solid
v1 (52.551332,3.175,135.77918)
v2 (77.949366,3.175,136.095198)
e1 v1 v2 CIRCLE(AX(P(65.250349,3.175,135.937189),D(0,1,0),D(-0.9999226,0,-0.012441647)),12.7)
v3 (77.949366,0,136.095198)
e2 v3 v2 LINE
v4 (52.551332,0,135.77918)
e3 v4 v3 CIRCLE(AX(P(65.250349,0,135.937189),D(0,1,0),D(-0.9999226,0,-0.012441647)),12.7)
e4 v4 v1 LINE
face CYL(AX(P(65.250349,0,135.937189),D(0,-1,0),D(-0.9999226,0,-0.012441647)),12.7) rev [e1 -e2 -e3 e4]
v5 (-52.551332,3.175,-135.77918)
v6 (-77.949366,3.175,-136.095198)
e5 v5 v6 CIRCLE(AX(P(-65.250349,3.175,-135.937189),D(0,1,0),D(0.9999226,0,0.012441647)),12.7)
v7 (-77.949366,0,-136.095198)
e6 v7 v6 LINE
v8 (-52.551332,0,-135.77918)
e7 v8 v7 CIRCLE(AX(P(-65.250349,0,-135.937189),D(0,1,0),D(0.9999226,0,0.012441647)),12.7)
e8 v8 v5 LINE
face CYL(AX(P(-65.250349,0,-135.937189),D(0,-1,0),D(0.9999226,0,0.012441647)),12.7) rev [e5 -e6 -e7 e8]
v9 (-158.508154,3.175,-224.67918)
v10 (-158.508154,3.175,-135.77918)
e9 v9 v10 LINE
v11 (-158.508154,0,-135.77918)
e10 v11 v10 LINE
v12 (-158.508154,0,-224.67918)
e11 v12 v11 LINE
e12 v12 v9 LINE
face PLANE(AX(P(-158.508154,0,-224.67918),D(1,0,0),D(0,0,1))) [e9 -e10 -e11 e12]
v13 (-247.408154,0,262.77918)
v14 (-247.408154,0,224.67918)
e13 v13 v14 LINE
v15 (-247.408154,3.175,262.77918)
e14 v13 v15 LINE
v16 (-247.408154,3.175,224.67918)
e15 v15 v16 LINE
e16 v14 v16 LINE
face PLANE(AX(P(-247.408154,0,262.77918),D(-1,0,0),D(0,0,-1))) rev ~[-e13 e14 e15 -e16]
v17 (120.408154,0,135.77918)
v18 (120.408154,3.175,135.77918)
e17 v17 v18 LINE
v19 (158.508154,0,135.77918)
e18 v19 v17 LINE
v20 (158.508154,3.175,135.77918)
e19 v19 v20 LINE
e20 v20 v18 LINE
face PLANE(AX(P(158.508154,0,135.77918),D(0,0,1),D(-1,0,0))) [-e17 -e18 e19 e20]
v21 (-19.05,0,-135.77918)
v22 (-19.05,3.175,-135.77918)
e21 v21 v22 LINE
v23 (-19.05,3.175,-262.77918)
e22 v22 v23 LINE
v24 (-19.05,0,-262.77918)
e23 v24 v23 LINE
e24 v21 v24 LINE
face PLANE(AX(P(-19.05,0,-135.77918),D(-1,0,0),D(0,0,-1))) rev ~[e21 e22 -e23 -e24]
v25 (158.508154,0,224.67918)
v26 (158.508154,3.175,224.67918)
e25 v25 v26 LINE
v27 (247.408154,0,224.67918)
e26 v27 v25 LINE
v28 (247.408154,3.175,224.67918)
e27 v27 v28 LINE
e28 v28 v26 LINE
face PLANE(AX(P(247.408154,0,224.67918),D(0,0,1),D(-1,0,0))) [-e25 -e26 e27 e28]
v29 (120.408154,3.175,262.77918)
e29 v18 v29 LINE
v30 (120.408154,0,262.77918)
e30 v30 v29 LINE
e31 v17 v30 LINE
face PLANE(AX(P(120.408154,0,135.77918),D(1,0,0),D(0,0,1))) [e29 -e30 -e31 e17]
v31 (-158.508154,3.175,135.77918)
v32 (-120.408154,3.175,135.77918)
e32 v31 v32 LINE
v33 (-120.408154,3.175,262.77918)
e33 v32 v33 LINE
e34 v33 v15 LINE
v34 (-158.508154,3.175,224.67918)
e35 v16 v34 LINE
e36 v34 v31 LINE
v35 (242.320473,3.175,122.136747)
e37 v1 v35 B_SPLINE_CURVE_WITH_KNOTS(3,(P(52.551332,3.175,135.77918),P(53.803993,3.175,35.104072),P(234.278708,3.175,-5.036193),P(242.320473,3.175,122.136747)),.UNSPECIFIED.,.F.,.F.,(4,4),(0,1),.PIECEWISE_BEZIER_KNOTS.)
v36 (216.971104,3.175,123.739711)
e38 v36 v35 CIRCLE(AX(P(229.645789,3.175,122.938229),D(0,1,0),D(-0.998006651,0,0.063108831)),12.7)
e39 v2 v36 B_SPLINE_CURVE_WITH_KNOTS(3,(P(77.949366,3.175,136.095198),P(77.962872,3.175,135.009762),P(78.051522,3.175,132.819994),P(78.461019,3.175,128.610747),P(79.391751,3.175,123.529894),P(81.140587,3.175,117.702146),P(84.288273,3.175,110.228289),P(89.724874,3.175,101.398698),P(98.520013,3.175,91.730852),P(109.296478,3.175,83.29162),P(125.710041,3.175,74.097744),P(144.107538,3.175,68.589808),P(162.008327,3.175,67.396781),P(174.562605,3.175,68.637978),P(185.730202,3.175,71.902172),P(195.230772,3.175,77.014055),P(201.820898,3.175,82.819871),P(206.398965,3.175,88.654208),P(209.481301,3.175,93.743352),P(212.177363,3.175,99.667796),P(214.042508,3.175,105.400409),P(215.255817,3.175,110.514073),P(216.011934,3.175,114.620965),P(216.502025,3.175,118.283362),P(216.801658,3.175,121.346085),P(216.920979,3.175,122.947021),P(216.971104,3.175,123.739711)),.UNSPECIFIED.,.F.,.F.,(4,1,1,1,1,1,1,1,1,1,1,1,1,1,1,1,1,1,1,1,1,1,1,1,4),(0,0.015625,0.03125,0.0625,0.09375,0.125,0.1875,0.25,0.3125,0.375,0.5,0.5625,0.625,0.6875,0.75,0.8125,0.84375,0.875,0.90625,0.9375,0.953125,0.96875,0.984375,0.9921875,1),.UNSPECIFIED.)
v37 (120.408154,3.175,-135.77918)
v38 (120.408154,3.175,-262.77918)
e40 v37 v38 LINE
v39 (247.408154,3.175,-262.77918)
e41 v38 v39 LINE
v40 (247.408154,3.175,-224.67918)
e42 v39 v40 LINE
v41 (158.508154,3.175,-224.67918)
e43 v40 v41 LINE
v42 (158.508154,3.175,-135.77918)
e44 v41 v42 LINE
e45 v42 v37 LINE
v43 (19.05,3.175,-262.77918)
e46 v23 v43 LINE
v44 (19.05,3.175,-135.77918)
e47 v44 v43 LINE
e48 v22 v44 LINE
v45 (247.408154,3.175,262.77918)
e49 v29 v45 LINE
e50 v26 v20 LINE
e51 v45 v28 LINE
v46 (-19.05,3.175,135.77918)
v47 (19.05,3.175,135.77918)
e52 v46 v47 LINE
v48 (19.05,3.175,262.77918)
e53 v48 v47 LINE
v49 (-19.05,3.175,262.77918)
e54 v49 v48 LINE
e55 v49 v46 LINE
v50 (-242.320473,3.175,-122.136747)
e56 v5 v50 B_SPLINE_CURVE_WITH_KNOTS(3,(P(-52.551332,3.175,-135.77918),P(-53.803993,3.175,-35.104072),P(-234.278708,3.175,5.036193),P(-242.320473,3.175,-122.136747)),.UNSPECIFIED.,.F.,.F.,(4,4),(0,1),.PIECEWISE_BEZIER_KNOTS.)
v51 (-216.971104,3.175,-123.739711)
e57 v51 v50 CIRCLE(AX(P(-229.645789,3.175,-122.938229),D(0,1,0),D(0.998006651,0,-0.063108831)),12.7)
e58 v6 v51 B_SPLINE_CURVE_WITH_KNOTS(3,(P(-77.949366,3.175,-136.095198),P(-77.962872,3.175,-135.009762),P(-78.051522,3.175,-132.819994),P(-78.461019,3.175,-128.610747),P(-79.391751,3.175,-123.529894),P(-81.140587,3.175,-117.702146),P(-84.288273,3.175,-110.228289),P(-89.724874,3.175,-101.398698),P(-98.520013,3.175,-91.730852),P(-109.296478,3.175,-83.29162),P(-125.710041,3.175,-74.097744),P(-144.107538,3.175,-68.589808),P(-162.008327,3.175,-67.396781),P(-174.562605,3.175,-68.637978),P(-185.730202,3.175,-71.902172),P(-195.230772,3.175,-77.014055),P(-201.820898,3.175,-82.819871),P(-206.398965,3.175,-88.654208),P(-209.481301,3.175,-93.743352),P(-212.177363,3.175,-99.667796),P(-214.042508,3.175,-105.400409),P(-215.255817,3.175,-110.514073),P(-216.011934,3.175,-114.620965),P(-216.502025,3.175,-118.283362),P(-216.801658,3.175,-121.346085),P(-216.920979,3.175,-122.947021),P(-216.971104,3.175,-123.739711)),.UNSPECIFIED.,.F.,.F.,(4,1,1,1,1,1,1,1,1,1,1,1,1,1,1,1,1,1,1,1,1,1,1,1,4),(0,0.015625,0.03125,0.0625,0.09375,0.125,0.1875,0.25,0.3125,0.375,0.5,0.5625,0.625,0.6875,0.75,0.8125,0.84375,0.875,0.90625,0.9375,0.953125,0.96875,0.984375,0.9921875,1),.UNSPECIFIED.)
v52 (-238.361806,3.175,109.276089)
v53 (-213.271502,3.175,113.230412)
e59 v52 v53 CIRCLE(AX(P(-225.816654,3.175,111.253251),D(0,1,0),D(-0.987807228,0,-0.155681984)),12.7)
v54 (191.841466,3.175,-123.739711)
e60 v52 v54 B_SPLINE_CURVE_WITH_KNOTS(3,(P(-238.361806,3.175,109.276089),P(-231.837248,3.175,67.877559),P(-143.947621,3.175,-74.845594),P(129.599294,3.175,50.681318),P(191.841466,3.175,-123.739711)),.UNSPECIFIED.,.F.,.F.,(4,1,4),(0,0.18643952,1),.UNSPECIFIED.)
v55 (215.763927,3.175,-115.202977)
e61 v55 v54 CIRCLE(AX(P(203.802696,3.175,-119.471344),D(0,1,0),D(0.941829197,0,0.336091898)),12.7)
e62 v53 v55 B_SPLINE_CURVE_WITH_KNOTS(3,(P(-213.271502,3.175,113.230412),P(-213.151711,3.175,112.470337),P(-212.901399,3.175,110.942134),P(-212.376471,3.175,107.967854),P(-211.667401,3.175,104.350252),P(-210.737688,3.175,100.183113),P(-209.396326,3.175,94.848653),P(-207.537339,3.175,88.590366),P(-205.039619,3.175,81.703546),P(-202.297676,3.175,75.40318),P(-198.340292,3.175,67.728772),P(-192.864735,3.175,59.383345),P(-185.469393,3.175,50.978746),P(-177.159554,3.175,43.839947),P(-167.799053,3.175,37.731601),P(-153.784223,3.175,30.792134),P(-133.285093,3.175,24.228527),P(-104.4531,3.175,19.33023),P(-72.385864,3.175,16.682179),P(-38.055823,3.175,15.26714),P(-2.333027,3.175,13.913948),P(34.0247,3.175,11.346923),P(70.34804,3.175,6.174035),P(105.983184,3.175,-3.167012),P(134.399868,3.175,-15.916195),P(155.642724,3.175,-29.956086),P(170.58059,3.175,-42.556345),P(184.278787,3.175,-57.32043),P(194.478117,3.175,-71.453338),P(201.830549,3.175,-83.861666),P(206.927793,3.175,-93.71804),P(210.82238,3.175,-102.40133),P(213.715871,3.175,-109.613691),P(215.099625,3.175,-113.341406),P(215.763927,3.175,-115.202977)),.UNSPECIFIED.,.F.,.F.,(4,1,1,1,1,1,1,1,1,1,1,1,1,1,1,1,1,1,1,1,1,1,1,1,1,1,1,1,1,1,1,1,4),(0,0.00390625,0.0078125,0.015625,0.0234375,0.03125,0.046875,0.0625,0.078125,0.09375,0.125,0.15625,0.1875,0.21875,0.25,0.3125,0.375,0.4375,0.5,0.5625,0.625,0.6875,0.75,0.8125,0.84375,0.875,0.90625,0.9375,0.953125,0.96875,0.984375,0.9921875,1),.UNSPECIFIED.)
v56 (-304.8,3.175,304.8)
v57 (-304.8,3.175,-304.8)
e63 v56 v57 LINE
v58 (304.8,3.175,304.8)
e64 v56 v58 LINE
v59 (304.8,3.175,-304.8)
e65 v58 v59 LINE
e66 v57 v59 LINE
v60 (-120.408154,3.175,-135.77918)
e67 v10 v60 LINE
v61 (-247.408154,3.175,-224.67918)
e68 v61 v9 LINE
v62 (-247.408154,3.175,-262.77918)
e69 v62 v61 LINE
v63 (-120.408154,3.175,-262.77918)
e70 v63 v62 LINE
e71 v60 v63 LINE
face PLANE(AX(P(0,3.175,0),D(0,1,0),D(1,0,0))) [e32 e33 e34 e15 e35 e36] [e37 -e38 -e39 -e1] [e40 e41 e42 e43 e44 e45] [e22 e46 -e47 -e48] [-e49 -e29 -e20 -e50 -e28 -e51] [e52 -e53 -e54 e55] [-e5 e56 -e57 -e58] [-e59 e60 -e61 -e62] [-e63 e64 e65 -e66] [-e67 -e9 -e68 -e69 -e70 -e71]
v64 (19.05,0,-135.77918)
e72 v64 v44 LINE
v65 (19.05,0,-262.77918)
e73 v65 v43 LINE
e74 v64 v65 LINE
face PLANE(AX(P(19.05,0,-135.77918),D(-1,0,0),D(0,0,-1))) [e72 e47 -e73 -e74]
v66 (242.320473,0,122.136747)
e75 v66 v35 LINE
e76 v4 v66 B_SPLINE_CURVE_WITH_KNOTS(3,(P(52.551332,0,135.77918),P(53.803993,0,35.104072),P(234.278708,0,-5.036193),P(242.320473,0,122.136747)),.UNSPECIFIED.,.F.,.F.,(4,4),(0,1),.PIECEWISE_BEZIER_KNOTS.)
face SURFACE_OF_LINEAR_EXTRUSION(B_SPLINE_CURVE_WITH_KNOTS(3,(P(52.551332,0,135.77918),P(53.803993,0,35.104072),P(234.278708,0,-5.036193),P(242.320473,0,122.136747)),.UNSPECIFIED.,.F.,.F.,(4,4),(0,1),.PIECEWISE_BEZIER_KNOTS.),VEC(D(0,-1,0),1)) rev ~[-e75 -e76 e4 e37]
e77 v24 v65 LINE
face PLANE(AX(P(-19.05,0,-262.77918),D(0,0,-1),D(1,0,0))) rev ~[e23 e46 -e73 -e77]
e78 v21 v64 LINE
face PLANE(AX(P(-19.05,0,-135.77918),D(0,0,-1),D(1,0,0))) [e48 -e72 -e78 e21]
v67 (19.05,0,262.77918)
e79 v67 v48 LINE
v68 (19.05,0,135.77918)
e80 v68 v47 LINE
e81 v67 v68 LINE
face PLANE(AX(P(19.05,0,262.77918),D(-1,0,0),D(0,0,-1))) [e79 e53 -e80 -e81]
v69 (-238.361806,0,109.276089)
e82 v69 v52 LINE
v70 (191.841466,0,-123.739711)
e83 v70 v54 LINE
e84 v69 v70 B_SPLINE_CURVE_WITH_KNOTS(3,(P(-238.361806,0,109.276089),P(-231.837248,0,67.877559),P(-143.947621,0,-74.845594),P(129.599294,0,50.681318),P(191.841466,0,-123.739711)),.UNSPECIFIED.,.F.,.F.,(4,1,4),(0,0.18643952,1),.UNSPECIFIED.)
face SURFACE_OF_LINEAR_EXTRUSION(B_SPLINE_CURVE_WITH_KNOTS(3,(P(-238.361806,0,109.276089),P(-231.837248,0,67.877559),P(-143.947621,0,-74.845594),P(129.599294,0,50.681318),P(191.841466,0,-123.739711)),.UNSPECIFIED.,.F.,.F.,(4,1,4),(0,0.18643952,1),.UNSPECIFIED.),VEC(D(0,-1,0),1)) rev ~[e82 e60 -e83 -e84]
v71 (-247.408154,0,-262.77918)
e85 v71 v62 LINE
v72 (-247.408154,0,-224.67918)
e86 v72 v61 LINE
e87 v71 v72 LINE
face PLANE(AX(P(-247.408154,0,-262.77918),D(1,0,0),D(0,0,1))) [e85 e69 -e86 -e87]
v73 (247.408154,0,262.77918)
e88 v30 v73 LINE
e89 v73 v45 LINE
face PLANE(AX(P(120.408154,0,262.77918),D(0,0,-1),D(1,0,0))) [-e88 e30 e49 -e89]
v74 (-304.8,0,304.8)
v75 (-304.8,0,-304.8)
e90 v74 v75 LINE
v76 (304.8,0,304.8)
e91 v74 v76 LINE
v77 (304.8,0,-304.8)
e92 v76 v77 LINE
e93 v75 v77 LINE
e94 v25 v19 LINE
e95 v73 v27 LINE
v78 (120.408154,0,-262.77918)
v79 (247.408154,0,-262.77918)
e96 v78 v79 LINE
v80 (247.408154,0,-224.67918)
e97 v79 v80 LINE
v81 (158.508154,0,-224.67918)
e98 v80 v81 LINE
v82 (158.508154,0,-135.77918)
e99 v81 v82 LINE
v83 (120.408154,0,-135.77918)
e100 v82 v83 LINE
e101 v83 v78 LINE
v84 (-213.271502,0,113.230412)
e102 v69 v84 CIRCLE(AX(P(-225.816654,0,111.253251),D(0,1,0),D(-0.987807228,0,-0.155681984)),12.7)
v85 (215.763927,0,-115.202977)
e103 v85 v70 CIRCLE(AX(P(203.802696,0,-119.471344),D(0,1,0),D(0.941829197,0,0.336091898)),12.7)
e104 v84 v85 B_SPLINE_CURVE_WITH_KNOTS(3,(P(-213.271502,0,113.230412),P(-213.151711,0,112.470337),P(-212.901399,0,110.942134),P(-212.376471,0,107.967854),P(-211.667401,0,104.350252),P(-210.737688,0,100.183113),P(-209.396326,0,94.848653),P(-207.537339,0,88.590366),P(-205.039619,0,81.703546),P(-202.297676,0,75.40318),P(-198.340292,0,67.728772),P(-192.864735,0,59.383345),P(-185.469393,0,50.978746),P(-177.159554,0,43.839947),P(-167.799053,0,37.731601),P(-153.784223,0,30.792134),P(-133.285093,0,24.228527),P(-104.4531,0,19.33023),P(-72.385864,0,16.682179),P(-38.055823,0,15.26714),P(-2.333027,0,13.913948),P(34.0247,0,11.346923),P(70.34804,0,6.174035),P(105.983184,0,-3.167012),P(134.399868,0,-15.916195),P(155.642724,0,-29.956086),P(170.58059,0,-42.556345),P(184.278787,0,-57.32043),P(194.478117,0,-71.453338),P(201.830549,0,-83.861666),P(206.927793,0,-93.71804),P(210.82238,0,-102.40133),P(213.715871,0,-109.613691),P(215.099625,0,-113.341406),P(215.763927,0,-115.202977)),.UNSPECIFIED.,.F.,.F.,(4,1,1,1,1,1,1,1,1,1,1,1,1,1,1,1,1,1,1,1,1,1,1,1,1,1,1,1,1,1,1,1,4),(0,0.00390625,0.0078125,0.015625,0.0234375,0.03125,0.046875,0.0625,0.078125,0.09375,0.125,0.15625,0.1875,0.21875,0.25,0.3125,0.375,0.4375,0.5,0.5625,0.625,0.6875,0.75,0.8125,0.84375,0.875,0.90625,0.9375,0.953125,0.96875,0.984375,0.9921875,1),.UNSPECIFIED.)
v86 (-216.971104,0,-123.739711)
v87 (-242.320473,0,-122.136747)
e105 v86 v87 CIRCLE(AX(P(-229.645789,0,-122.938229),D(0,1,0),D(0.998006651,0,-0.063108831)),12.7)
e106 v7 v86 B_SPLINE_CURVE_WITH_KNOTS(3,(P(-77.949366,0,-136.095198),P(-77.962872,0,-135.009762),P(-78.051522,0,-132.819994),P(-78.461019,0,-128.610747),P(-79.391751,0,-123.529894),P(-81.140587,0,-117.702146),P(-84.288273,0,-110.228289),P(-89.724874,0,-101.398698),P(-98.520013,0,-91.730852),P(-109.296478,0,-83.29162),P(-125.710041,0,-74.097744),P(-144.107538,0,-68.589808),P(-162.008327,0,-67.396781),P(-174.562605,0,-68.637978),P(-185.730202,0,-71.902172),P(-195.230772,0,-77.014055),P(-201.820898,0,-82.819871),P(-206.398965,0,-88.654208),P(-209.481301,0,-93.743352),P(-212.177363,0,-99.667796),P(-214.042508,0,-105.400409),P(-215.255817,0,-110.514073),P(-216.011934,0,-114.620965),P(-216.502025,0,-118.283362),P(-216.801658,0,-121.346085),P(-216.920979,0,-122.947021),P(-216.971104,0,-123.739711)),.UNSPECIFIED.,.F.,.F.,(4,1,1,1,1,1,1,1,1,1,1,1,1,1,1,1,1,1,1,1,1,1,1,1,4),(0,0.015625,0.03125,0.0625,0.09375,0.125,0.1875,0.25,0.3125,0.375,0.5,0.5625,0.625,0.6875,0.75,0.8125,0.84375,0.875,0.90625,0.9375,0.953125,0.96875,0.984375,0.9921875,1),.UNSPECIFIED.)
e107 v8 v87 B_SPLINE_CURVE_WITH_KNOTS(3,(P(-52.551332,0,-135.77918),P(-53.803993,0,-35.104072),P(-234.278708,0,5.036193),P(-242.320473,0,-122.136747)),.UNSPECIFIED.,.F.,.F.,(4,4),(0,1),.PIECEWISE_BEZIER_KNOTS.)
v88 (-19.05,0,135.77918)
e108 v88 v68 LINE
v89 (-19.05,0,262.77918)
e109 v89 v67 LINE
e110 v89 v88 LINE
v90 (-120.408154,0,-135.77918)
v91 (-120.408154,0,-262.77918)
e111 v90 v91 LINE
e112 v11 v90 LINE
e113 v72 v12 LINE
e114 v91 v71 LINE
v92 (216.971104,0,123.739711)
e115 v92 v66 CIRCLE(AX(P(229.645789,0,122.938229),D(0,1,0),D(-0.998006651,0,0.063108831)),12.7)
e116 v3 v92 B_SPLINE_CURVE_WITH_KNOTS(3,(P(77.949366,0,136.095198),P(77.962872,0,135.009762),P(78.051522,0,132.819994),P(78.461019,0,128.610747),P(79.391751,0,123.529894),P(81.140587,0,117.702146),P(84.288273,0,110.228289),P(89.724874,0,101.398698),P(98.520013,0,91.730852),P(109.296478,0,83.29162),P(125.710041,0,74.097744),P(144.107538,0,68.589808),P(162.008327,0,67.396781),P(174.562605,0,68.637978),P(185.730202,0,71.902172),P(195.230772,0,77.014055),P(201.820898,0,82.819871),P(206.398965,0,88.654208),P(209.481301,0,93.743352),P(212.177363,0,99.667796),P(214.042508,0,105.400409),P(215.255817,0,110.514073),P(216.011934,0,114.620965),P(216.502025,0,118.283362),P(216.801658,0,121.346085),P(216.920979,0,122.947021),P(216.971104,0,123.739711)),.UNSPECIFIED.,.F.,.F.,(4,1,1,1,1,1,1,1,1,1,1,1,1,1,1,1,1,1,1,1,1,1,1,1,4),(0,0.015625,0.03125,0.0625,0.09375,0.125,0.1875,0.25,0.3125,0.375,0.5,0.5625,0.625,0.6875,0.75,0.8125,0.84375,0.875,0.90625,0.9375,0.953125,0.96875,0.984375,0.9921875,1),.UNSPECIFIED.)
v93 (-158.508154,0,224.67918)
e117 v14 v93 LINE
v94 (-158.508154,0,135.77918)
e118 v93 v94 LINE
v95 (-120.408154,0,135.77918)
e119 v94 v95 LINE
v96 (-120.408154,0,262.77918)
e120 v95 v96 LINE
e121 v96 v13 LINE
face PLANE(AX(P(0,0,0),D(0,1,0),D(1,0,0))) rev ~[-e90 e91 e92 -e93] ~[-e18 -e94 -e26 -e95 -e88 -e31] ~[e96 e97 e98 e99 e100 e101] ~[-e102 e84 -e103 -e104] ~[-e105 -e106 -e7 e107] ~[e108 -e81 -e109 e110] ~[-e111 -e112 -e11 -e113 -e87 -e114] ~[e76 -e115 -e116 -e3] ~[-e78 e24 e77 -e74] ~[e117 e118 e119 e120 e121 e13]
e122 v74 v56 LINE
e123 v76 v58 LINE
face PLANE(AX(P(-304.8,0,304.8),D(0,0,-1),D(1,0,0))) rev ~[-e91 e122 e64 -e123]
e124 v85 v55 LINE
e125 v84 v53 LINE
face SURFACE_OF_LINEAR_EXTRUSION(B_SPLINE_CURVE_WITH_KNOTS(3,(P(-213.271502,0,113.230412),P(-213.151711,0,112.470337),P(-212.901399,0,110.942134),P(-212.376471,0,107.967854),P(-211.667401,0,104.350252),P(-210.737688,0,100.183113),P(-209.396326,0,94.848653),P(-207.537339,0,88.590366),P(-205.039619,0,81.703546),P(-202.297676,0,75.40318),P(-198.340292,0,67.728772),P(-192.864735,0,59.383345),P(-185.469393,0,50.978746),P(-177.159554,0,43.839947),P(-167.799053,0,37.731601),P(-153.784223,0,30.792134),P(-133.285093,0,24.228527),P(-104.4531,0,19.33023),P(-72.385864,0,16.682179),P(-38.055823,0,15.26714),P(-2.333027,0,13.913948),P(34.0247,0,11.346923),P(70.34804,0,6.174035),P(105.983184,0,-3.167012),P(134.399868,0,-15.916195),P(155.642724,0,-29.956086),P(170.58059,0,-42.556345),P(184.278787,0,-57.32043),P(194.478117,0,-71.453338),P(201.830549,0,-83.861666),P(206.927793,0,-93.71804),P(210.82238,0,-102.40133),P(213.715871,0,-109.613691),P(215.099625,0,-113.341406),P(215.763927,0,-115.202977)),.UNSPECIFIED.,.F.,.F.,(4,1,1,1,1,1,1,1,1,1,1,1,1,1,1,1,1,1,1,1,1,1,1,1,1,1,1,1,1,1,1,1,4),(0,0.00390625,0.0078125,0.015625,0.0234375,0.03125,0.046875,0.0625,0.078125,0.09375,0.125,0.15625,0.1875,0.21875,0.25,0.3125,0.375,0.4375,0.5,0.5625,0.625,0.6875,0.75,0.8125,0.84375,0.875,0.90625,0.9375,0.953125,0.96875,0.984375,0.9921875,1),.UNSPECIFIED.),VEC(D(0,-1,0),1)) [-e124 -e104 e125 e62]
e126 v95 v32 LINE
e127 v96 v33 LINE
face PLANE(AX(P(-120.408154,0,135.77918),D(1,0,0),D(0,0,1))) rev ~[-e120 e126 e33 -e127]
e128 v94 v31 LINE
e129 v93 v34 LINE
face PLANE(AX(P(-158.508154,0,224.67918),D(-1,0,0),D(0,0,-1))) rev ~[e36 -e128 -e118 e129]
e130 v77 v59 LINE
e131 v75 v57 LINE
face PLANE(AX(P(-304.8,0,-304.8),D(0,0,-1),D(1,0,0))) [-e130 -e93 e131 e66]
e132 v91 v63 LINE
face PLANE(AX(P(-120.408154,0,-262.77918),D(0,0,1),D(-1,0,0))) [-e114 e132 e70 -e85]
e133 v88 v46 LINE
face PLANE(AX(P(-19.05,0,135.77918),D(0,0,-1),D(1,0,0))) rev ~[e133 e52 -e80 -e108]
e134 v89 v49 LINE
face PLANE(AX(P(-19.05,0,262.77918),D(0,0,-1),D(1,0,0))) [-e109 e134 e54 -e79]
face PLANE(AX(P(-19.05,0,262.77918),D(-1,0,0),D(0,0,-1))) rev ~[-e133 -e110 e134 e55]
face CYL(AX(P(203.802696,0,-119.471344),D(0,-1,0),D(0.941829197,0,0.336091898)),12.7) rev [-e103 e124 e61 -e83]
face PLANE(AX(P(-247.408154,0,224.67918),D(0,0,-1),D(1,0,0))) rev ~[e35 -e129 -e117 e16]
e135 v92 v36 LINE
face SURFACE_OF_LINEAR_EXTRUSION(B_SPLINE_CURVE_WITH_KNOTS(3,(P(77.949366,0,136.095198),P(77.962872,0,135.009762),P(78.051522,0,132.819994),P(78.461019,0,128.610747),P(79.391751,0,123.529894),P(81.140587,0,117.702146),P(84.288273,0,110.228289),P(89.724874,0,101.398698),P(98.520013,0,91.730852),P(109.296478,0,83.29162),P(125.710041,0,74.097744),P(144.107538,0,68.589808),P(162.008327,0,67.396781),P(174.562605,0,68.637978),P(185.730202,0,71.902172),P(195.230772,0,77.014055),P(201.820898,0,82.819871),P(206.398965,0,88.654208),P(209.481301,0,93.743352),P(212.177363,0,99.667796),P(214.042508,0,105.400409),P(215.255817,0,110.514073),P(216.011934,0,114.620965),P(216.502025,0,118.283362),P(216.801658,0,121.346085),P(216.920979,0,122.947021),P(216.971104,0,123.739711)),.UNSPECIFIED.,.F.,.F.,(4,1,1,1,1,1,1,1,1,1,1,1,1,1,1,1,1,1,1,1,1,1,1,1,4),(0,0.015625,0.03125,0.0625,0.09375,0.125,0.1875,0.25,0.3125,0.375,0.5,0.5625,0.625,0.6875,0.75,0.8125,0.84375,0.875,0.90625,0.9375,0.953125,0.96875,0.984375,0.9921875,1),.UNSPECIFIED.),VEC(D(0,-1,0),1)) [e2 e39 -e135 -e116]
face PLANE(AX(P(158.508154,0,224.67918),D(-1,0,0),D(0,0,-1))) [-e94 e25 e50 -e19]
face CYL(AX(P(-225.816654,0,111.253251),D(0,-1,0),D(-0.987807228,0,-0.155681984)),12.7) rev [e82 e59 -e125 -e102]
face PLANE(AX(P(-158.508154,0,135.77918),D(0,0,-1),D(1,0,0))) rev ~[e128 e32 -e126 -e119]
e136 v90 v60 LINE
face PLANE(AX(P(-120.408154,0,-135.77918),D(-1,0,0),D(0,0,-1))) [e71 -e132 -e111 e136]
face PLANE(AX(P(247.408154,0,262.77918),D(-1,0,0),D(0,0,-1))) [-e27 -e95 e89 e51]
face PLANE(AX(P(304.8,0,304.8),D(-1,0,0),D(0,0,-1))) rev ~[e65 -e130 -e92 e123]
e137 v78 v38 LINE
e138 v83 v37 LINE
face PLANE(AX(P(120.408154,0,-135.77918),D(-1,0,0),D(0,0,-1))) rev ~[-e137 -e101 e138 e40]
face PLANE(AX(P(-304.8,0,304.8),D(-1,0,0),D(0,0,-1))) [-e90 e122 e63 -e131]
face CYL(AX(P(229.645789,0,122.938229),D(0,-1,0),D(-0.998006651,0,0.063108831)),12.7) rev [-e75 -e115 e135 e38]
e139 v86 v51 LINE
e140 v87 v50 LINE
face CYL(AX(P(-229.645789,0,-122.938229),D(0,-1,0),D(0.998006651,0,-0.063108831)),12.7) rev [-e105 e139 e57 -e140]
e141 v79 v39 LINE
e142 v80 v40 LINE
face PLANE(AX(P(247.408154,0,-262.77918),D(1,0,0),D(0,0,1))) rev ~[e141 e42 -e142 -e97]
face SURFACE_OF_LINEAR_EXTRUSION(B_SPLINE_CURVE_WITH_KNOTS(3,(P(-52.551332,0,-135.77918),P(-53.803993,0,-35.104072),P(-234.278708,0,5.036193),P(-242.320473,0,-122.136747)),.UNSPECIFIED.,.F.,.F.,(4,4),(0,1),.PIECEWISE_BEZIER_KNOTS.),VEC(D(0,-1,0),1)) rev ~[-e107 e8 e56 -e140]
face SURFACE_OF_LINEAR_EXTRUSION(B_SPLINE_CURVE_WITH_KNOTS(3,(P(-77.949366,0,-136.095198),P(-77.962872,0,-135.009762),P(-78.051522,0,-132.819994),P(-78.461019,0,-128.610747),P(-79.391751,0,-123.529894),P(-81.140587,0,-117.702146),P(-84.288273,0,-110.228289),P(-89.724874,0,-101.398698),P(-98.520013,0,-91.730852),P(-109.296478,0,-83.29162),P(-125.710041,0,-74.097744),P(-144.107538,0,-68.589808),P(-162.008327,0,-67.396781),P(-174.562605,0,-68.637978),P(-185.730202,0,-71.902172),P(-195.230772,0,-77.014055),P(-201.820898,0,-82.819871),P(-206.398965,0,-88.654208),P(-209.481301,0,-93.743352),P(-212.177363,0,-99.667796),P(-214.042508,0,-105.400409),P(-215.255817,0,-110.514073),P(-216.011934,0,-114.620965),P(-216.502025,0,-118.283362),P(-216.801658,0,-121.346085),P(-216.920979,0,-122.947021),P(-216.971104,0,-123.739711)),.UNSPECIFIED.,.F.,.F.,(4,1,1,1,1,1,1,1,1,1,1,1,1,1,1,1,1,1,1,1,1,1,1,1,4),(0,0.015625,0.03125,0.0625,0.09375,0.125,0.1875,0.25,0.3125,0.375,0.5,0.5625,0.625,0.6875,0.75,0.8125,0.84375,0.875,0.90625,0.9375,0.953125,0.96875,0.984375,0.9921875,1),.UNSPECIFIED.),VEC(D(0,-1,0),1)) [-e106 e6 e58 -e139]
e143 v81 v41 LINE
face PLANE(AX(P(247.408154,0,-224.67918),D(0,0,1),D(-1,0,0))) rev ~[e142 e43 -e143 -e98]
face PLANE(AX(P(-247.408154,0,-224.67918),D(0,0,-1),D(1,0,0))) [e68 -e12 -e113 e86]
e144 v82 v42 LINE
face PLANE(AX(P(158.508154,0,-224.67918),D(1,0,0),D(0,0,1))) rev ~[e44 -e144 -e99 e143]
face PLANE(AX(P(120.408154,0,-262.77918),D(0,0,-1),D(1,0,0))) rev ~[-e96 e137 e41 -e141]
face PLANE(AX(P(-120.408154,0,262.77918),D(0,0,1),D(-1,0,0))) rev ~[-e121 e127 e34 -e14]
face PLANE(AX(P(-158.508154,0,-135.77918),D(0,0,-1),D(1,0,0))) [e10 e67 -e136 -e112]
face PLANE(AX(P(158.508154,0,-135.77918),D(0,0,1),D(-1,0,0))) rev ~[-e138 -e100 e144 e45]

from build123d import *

# Parameters (mm, degrees)
SKETCH1_W           = 609.6
SKETCH1_H           = 609.6
SKETCH1_W_2         = 38.1
SKETCH1_H_2         = 127
BOSS_EXTRUDE1_DEPTH = 3.175


with BuildPart() as part:
    # Sketch1 → Boss-Extrude1 (new body)
    with BuildSketch(Plane(origin=(0, 0, 0), x_dir=(1, 0, 0), z_dir=(0, 1, 0))):
        Rectangle(SKETCH1_W, SKETCH1_H)
        Polygon((120.408154002, 135.779180095), (120.408154002, 262.779180095), (247.408154002, 262.779180095), (247.408154002, 224.679180095), (158.508154002, 224.679180095), (158.508154002, 135.779180095), align=None, mode=Mode.SUBTRACT)
        with Locations((0, 199.279180095)):
            Rectangle(SKETCH1_W_2, SKETCH1_H_2, mode=Mode.SUBTRACT)
        Polygon((-158.508154002, 224.679180095), (-158.508154002, 135.779180095), (-120.408154002, 135.779180095), (-120.408154002, 262.779180095), (-247.408154002, 262.779180095), (-247.408154002, 224.679180095), align=None, mode=Mode.SUBTRACT)
        Polygon((158.508154002, -224.679180095), (158.508154002, -135.779180095), (120.408154002, -135.779180095), (120.408154002, -262.779180095), (247.408154002, -262.779180095), (247.408154002, -224.679180095), align=None, mode=Mode.SUBTRACT)
        with Locations((0, -199.279180095)):
            Rectangle(SKETCH1_W_2, SKETCH1_H_2, mode=Mode.SUBTRACT)
        Polygon((-247.408154002, -224.679180095), (-158.508154002, -224.679180095), (-158.508154002, -135.779180095), (-120.408154002, -135.779180095), (-120.408154002, -262.779180095), (-247.408154002, -262.779180095), align=None, mode=Mode.SUBTRACT)
        with BuildLine():
            ThreePointArc((52.551332081, -135.779180095), (65.092340177, -148.636206032), (77.949366114, -136.095197937))
            add(Edge.make_bspline(
                [(77.949366114, -136.095197937), (77.962871775, -135.00976167), (78.051522279, -132.819994322), (78.461018982, -128.610747096), (79.391750695, -123.529893605), (81.140586923, -117.702146239), (84.288273438, -110.22828937), (89.724874356, -101.398698485), (98.52001314, -91.730852125), (109.296478393, -83.291620152), (125.7100411, -74.097744104), (144.107538407, -68.589807628), (162.008327299, -67.396780618), (174.562605493, -68.637977939), (185.730202076, -71.902172234), (195.230771881, -77.014054641), (201.820897642, -82.819870924), (206.398964756, -88.654208165), (209.481301131, -93.743351916), (212.177363153, -99.667795966), (214.042508359, -105.400408521), (215.255816836, -110.514072692), (216.01193439, -114.620965061), (216.502025281, -118.283361589), (216.801657973, -121.346084505), (216.920978677, -122.947020667), (216.971104363, -123.739711144)],
                knots=[0, 0, 0, 0, 0.015625, 0.03125, 0.0625, 0.09375, 0.125, 0.1875, 0.25, 0.3125, 0.375, 0.5, 0.5625, 0.625, 0.6875, 0.75, 0.8125, 0.84375, 0.875, 0.90625, 0.9375, 0.953125, 0.96875, 0.984375, 0.9921875, 1, 1, 1, 1], degree=3))
            ThreePointArc((216.971104363, -123.739711144), (230.447270979, -135.612913465), (242.3204733, -122.136746849))
            add(Edge.make_bspline(
                [(52.551332081, -135.779180095), (53.803993226, -35.104071896), (234.278707736, 5.036193149), (242.3204733, -122.136746849)],
                knots=[0, 0, 0, 0, 1, 1, 1, 1], degree=3))
        make_face(mode=Mode.SUBTRACT)
        with BuildLine():
            ThreePointArc((-52.551332081, 135.779180095), (-65.092340177, 148.636206032), (-77.949366114, 136.095197937))
            add(Edge.make_bspline(
                [(-77.949366114, 136.095197937), (-77.962871775, 135.00976167), (-78.051522279, 132.819994322), (-78.461018982, 128.610747096), (-79.391750695, 123.529893605), (-81.140586923, 117.702146239), (-84.288273438, 110.22828937), (-89.724874356, 101.398698485), (-98.52001314, 91.730852125), (-109.296478393, 83.291620152), (-125.7100411, 74.097744104), (-144.107538407, 68.589807628), (-162.008327299, 67.396780618), (-174.562605493, 68.637977939), (-185.730202076, 71.902172234), (-195.230771881, 77.014054641), (-201.820897642, 82.819870924), (-206.398964756, 88.654208165), (-209.481301131, 93.743351916), (-212.177363153, 99.667795966), (-214.042508359, 105.400408521), (-215.255816836, 110.514072692), (-216.01193439, 114.620965061), (-216.502025281, 118.283361589), (-216.801657973, 121.346084505), (-216.920978677, 122.947020667), (-216.971104363, 123.739711144)],
                knots=[0, 0, 0, 0, 0.015625, 0.03125, 0.0625, 0.09375, 0.125, 0.1875, 0.25, 0.3125, 0.375, 0.5, 0.5625, 0.625, 0.6875, 0.75, 0.8125, 0.84375, 0.875, 0.90625, 0.9375, 0.953125, 0.96875, 0.984375, 0.9921875, 1, 1, 1, 1], degree=3))
            ThreePointArc((-216.971104363, 123.739711144), (-230.447270979, 135.612913465), (-242.3204733, 122.136746849))
            add(Edge.make_bspline(
                [(-52.551332081, 135.779180095), (-53.803993226, 35.104071896), (-234.278707736, -5.036193149), (-242.3204733, 122.136746849)],
                knots=[0, 0, 0, 0, 1, 1, 1, 1], degree=3))
        make_face(mode=Mode.SUBTRACT)
        with BuildLine():
            ThreePointArc((-238.361805519, -109.276089344), (-227.793814923, -123.798402341), (-213.271501927, -113.230411744))
            add(Edge.make_bspline(
                [(-213.271501927, -113.230411744), (-213.151711371, -112.470336791), (-212.901399378, -110.942133808), (-212.376470719, -107.967853935), (-211.667401285, -104.350251745), (-210.737688056, -100.183113029), (-209.396326232, -94.848652891), (-207.537338772, -88.590365879), (-205.039618896, -81.703545889), (-202.297676371, -75.403179873), (-198.340291718, -67.72877181), (-192.86473475, -59.383344605), (-185.469393079, -50.978746481), (-177.159554076, -43.839947193), (-167.799053029, -37.731600761), (-153.784222926, -30.792133533), (-133.28509315, -24.22852654), (-104.453100091, -19.330230382), (-72.38586379, -16.682179087), (-38.055823436, -15.267140213), (-2.333026847, -13.913947785), (34.024700143, -11.346923243), (70.348040016, -6.174035434), (105.983184152, 3.16701171), (134.39986785, 15.91619513), (155.642723734, 29.956085882), (170.580590208, 42.556344707), (184.278786849, 57.320430485), (194.478117069, 71.453337622), (201.830548984, 83.861665804), (206.927792683, 93.718040184), (210.822379773, 102.401329596), (213.7158707, 109.613690679), (215.099625409, 113.341406131), (215.763927247, 115.202976942)],
                knots=[0, 0, 0, 0, 0.00390625, 0.0078125, 0.015625, 0.0234375, 0.03125, 0.046875, 0.0625, 0.078125, 0.09375, 0.125, 0.15625, 0.1875, 0.21875, 0.25, 0.3125, 0.375, 0.4375, 0.5, 0.5625, 0.625, 0.6875, 0.75, 0.8125, 0.84375, 0.875, 0.90625, 0.9375, 0.953125, 0.96875, 0.984375, 0.9921875, 1, 1, 1, 1], degree=3))
            ThreePointArc((215.763927247, 115.202976942), (208.071063547, 131.432574845), (191.841465644, 123.739711144))
            add(Edge.make_bspline(
                [(-238.361805519, -109.276089344), (-231.837247772, -67.877559295), (-143.94762142, 74.845593782), (129.599293897, -50.681317832), (191.841465644, 123.739711144)],
                knots=[0, 0, 0, 0, 0.18643952, 1, 1, 1, 1], degree=3))
        make_face(mode=Mode.SUBTRACT)
    extrude(amount=BOSS_EXTRUDE1_DEPTH)


solid = part.part
